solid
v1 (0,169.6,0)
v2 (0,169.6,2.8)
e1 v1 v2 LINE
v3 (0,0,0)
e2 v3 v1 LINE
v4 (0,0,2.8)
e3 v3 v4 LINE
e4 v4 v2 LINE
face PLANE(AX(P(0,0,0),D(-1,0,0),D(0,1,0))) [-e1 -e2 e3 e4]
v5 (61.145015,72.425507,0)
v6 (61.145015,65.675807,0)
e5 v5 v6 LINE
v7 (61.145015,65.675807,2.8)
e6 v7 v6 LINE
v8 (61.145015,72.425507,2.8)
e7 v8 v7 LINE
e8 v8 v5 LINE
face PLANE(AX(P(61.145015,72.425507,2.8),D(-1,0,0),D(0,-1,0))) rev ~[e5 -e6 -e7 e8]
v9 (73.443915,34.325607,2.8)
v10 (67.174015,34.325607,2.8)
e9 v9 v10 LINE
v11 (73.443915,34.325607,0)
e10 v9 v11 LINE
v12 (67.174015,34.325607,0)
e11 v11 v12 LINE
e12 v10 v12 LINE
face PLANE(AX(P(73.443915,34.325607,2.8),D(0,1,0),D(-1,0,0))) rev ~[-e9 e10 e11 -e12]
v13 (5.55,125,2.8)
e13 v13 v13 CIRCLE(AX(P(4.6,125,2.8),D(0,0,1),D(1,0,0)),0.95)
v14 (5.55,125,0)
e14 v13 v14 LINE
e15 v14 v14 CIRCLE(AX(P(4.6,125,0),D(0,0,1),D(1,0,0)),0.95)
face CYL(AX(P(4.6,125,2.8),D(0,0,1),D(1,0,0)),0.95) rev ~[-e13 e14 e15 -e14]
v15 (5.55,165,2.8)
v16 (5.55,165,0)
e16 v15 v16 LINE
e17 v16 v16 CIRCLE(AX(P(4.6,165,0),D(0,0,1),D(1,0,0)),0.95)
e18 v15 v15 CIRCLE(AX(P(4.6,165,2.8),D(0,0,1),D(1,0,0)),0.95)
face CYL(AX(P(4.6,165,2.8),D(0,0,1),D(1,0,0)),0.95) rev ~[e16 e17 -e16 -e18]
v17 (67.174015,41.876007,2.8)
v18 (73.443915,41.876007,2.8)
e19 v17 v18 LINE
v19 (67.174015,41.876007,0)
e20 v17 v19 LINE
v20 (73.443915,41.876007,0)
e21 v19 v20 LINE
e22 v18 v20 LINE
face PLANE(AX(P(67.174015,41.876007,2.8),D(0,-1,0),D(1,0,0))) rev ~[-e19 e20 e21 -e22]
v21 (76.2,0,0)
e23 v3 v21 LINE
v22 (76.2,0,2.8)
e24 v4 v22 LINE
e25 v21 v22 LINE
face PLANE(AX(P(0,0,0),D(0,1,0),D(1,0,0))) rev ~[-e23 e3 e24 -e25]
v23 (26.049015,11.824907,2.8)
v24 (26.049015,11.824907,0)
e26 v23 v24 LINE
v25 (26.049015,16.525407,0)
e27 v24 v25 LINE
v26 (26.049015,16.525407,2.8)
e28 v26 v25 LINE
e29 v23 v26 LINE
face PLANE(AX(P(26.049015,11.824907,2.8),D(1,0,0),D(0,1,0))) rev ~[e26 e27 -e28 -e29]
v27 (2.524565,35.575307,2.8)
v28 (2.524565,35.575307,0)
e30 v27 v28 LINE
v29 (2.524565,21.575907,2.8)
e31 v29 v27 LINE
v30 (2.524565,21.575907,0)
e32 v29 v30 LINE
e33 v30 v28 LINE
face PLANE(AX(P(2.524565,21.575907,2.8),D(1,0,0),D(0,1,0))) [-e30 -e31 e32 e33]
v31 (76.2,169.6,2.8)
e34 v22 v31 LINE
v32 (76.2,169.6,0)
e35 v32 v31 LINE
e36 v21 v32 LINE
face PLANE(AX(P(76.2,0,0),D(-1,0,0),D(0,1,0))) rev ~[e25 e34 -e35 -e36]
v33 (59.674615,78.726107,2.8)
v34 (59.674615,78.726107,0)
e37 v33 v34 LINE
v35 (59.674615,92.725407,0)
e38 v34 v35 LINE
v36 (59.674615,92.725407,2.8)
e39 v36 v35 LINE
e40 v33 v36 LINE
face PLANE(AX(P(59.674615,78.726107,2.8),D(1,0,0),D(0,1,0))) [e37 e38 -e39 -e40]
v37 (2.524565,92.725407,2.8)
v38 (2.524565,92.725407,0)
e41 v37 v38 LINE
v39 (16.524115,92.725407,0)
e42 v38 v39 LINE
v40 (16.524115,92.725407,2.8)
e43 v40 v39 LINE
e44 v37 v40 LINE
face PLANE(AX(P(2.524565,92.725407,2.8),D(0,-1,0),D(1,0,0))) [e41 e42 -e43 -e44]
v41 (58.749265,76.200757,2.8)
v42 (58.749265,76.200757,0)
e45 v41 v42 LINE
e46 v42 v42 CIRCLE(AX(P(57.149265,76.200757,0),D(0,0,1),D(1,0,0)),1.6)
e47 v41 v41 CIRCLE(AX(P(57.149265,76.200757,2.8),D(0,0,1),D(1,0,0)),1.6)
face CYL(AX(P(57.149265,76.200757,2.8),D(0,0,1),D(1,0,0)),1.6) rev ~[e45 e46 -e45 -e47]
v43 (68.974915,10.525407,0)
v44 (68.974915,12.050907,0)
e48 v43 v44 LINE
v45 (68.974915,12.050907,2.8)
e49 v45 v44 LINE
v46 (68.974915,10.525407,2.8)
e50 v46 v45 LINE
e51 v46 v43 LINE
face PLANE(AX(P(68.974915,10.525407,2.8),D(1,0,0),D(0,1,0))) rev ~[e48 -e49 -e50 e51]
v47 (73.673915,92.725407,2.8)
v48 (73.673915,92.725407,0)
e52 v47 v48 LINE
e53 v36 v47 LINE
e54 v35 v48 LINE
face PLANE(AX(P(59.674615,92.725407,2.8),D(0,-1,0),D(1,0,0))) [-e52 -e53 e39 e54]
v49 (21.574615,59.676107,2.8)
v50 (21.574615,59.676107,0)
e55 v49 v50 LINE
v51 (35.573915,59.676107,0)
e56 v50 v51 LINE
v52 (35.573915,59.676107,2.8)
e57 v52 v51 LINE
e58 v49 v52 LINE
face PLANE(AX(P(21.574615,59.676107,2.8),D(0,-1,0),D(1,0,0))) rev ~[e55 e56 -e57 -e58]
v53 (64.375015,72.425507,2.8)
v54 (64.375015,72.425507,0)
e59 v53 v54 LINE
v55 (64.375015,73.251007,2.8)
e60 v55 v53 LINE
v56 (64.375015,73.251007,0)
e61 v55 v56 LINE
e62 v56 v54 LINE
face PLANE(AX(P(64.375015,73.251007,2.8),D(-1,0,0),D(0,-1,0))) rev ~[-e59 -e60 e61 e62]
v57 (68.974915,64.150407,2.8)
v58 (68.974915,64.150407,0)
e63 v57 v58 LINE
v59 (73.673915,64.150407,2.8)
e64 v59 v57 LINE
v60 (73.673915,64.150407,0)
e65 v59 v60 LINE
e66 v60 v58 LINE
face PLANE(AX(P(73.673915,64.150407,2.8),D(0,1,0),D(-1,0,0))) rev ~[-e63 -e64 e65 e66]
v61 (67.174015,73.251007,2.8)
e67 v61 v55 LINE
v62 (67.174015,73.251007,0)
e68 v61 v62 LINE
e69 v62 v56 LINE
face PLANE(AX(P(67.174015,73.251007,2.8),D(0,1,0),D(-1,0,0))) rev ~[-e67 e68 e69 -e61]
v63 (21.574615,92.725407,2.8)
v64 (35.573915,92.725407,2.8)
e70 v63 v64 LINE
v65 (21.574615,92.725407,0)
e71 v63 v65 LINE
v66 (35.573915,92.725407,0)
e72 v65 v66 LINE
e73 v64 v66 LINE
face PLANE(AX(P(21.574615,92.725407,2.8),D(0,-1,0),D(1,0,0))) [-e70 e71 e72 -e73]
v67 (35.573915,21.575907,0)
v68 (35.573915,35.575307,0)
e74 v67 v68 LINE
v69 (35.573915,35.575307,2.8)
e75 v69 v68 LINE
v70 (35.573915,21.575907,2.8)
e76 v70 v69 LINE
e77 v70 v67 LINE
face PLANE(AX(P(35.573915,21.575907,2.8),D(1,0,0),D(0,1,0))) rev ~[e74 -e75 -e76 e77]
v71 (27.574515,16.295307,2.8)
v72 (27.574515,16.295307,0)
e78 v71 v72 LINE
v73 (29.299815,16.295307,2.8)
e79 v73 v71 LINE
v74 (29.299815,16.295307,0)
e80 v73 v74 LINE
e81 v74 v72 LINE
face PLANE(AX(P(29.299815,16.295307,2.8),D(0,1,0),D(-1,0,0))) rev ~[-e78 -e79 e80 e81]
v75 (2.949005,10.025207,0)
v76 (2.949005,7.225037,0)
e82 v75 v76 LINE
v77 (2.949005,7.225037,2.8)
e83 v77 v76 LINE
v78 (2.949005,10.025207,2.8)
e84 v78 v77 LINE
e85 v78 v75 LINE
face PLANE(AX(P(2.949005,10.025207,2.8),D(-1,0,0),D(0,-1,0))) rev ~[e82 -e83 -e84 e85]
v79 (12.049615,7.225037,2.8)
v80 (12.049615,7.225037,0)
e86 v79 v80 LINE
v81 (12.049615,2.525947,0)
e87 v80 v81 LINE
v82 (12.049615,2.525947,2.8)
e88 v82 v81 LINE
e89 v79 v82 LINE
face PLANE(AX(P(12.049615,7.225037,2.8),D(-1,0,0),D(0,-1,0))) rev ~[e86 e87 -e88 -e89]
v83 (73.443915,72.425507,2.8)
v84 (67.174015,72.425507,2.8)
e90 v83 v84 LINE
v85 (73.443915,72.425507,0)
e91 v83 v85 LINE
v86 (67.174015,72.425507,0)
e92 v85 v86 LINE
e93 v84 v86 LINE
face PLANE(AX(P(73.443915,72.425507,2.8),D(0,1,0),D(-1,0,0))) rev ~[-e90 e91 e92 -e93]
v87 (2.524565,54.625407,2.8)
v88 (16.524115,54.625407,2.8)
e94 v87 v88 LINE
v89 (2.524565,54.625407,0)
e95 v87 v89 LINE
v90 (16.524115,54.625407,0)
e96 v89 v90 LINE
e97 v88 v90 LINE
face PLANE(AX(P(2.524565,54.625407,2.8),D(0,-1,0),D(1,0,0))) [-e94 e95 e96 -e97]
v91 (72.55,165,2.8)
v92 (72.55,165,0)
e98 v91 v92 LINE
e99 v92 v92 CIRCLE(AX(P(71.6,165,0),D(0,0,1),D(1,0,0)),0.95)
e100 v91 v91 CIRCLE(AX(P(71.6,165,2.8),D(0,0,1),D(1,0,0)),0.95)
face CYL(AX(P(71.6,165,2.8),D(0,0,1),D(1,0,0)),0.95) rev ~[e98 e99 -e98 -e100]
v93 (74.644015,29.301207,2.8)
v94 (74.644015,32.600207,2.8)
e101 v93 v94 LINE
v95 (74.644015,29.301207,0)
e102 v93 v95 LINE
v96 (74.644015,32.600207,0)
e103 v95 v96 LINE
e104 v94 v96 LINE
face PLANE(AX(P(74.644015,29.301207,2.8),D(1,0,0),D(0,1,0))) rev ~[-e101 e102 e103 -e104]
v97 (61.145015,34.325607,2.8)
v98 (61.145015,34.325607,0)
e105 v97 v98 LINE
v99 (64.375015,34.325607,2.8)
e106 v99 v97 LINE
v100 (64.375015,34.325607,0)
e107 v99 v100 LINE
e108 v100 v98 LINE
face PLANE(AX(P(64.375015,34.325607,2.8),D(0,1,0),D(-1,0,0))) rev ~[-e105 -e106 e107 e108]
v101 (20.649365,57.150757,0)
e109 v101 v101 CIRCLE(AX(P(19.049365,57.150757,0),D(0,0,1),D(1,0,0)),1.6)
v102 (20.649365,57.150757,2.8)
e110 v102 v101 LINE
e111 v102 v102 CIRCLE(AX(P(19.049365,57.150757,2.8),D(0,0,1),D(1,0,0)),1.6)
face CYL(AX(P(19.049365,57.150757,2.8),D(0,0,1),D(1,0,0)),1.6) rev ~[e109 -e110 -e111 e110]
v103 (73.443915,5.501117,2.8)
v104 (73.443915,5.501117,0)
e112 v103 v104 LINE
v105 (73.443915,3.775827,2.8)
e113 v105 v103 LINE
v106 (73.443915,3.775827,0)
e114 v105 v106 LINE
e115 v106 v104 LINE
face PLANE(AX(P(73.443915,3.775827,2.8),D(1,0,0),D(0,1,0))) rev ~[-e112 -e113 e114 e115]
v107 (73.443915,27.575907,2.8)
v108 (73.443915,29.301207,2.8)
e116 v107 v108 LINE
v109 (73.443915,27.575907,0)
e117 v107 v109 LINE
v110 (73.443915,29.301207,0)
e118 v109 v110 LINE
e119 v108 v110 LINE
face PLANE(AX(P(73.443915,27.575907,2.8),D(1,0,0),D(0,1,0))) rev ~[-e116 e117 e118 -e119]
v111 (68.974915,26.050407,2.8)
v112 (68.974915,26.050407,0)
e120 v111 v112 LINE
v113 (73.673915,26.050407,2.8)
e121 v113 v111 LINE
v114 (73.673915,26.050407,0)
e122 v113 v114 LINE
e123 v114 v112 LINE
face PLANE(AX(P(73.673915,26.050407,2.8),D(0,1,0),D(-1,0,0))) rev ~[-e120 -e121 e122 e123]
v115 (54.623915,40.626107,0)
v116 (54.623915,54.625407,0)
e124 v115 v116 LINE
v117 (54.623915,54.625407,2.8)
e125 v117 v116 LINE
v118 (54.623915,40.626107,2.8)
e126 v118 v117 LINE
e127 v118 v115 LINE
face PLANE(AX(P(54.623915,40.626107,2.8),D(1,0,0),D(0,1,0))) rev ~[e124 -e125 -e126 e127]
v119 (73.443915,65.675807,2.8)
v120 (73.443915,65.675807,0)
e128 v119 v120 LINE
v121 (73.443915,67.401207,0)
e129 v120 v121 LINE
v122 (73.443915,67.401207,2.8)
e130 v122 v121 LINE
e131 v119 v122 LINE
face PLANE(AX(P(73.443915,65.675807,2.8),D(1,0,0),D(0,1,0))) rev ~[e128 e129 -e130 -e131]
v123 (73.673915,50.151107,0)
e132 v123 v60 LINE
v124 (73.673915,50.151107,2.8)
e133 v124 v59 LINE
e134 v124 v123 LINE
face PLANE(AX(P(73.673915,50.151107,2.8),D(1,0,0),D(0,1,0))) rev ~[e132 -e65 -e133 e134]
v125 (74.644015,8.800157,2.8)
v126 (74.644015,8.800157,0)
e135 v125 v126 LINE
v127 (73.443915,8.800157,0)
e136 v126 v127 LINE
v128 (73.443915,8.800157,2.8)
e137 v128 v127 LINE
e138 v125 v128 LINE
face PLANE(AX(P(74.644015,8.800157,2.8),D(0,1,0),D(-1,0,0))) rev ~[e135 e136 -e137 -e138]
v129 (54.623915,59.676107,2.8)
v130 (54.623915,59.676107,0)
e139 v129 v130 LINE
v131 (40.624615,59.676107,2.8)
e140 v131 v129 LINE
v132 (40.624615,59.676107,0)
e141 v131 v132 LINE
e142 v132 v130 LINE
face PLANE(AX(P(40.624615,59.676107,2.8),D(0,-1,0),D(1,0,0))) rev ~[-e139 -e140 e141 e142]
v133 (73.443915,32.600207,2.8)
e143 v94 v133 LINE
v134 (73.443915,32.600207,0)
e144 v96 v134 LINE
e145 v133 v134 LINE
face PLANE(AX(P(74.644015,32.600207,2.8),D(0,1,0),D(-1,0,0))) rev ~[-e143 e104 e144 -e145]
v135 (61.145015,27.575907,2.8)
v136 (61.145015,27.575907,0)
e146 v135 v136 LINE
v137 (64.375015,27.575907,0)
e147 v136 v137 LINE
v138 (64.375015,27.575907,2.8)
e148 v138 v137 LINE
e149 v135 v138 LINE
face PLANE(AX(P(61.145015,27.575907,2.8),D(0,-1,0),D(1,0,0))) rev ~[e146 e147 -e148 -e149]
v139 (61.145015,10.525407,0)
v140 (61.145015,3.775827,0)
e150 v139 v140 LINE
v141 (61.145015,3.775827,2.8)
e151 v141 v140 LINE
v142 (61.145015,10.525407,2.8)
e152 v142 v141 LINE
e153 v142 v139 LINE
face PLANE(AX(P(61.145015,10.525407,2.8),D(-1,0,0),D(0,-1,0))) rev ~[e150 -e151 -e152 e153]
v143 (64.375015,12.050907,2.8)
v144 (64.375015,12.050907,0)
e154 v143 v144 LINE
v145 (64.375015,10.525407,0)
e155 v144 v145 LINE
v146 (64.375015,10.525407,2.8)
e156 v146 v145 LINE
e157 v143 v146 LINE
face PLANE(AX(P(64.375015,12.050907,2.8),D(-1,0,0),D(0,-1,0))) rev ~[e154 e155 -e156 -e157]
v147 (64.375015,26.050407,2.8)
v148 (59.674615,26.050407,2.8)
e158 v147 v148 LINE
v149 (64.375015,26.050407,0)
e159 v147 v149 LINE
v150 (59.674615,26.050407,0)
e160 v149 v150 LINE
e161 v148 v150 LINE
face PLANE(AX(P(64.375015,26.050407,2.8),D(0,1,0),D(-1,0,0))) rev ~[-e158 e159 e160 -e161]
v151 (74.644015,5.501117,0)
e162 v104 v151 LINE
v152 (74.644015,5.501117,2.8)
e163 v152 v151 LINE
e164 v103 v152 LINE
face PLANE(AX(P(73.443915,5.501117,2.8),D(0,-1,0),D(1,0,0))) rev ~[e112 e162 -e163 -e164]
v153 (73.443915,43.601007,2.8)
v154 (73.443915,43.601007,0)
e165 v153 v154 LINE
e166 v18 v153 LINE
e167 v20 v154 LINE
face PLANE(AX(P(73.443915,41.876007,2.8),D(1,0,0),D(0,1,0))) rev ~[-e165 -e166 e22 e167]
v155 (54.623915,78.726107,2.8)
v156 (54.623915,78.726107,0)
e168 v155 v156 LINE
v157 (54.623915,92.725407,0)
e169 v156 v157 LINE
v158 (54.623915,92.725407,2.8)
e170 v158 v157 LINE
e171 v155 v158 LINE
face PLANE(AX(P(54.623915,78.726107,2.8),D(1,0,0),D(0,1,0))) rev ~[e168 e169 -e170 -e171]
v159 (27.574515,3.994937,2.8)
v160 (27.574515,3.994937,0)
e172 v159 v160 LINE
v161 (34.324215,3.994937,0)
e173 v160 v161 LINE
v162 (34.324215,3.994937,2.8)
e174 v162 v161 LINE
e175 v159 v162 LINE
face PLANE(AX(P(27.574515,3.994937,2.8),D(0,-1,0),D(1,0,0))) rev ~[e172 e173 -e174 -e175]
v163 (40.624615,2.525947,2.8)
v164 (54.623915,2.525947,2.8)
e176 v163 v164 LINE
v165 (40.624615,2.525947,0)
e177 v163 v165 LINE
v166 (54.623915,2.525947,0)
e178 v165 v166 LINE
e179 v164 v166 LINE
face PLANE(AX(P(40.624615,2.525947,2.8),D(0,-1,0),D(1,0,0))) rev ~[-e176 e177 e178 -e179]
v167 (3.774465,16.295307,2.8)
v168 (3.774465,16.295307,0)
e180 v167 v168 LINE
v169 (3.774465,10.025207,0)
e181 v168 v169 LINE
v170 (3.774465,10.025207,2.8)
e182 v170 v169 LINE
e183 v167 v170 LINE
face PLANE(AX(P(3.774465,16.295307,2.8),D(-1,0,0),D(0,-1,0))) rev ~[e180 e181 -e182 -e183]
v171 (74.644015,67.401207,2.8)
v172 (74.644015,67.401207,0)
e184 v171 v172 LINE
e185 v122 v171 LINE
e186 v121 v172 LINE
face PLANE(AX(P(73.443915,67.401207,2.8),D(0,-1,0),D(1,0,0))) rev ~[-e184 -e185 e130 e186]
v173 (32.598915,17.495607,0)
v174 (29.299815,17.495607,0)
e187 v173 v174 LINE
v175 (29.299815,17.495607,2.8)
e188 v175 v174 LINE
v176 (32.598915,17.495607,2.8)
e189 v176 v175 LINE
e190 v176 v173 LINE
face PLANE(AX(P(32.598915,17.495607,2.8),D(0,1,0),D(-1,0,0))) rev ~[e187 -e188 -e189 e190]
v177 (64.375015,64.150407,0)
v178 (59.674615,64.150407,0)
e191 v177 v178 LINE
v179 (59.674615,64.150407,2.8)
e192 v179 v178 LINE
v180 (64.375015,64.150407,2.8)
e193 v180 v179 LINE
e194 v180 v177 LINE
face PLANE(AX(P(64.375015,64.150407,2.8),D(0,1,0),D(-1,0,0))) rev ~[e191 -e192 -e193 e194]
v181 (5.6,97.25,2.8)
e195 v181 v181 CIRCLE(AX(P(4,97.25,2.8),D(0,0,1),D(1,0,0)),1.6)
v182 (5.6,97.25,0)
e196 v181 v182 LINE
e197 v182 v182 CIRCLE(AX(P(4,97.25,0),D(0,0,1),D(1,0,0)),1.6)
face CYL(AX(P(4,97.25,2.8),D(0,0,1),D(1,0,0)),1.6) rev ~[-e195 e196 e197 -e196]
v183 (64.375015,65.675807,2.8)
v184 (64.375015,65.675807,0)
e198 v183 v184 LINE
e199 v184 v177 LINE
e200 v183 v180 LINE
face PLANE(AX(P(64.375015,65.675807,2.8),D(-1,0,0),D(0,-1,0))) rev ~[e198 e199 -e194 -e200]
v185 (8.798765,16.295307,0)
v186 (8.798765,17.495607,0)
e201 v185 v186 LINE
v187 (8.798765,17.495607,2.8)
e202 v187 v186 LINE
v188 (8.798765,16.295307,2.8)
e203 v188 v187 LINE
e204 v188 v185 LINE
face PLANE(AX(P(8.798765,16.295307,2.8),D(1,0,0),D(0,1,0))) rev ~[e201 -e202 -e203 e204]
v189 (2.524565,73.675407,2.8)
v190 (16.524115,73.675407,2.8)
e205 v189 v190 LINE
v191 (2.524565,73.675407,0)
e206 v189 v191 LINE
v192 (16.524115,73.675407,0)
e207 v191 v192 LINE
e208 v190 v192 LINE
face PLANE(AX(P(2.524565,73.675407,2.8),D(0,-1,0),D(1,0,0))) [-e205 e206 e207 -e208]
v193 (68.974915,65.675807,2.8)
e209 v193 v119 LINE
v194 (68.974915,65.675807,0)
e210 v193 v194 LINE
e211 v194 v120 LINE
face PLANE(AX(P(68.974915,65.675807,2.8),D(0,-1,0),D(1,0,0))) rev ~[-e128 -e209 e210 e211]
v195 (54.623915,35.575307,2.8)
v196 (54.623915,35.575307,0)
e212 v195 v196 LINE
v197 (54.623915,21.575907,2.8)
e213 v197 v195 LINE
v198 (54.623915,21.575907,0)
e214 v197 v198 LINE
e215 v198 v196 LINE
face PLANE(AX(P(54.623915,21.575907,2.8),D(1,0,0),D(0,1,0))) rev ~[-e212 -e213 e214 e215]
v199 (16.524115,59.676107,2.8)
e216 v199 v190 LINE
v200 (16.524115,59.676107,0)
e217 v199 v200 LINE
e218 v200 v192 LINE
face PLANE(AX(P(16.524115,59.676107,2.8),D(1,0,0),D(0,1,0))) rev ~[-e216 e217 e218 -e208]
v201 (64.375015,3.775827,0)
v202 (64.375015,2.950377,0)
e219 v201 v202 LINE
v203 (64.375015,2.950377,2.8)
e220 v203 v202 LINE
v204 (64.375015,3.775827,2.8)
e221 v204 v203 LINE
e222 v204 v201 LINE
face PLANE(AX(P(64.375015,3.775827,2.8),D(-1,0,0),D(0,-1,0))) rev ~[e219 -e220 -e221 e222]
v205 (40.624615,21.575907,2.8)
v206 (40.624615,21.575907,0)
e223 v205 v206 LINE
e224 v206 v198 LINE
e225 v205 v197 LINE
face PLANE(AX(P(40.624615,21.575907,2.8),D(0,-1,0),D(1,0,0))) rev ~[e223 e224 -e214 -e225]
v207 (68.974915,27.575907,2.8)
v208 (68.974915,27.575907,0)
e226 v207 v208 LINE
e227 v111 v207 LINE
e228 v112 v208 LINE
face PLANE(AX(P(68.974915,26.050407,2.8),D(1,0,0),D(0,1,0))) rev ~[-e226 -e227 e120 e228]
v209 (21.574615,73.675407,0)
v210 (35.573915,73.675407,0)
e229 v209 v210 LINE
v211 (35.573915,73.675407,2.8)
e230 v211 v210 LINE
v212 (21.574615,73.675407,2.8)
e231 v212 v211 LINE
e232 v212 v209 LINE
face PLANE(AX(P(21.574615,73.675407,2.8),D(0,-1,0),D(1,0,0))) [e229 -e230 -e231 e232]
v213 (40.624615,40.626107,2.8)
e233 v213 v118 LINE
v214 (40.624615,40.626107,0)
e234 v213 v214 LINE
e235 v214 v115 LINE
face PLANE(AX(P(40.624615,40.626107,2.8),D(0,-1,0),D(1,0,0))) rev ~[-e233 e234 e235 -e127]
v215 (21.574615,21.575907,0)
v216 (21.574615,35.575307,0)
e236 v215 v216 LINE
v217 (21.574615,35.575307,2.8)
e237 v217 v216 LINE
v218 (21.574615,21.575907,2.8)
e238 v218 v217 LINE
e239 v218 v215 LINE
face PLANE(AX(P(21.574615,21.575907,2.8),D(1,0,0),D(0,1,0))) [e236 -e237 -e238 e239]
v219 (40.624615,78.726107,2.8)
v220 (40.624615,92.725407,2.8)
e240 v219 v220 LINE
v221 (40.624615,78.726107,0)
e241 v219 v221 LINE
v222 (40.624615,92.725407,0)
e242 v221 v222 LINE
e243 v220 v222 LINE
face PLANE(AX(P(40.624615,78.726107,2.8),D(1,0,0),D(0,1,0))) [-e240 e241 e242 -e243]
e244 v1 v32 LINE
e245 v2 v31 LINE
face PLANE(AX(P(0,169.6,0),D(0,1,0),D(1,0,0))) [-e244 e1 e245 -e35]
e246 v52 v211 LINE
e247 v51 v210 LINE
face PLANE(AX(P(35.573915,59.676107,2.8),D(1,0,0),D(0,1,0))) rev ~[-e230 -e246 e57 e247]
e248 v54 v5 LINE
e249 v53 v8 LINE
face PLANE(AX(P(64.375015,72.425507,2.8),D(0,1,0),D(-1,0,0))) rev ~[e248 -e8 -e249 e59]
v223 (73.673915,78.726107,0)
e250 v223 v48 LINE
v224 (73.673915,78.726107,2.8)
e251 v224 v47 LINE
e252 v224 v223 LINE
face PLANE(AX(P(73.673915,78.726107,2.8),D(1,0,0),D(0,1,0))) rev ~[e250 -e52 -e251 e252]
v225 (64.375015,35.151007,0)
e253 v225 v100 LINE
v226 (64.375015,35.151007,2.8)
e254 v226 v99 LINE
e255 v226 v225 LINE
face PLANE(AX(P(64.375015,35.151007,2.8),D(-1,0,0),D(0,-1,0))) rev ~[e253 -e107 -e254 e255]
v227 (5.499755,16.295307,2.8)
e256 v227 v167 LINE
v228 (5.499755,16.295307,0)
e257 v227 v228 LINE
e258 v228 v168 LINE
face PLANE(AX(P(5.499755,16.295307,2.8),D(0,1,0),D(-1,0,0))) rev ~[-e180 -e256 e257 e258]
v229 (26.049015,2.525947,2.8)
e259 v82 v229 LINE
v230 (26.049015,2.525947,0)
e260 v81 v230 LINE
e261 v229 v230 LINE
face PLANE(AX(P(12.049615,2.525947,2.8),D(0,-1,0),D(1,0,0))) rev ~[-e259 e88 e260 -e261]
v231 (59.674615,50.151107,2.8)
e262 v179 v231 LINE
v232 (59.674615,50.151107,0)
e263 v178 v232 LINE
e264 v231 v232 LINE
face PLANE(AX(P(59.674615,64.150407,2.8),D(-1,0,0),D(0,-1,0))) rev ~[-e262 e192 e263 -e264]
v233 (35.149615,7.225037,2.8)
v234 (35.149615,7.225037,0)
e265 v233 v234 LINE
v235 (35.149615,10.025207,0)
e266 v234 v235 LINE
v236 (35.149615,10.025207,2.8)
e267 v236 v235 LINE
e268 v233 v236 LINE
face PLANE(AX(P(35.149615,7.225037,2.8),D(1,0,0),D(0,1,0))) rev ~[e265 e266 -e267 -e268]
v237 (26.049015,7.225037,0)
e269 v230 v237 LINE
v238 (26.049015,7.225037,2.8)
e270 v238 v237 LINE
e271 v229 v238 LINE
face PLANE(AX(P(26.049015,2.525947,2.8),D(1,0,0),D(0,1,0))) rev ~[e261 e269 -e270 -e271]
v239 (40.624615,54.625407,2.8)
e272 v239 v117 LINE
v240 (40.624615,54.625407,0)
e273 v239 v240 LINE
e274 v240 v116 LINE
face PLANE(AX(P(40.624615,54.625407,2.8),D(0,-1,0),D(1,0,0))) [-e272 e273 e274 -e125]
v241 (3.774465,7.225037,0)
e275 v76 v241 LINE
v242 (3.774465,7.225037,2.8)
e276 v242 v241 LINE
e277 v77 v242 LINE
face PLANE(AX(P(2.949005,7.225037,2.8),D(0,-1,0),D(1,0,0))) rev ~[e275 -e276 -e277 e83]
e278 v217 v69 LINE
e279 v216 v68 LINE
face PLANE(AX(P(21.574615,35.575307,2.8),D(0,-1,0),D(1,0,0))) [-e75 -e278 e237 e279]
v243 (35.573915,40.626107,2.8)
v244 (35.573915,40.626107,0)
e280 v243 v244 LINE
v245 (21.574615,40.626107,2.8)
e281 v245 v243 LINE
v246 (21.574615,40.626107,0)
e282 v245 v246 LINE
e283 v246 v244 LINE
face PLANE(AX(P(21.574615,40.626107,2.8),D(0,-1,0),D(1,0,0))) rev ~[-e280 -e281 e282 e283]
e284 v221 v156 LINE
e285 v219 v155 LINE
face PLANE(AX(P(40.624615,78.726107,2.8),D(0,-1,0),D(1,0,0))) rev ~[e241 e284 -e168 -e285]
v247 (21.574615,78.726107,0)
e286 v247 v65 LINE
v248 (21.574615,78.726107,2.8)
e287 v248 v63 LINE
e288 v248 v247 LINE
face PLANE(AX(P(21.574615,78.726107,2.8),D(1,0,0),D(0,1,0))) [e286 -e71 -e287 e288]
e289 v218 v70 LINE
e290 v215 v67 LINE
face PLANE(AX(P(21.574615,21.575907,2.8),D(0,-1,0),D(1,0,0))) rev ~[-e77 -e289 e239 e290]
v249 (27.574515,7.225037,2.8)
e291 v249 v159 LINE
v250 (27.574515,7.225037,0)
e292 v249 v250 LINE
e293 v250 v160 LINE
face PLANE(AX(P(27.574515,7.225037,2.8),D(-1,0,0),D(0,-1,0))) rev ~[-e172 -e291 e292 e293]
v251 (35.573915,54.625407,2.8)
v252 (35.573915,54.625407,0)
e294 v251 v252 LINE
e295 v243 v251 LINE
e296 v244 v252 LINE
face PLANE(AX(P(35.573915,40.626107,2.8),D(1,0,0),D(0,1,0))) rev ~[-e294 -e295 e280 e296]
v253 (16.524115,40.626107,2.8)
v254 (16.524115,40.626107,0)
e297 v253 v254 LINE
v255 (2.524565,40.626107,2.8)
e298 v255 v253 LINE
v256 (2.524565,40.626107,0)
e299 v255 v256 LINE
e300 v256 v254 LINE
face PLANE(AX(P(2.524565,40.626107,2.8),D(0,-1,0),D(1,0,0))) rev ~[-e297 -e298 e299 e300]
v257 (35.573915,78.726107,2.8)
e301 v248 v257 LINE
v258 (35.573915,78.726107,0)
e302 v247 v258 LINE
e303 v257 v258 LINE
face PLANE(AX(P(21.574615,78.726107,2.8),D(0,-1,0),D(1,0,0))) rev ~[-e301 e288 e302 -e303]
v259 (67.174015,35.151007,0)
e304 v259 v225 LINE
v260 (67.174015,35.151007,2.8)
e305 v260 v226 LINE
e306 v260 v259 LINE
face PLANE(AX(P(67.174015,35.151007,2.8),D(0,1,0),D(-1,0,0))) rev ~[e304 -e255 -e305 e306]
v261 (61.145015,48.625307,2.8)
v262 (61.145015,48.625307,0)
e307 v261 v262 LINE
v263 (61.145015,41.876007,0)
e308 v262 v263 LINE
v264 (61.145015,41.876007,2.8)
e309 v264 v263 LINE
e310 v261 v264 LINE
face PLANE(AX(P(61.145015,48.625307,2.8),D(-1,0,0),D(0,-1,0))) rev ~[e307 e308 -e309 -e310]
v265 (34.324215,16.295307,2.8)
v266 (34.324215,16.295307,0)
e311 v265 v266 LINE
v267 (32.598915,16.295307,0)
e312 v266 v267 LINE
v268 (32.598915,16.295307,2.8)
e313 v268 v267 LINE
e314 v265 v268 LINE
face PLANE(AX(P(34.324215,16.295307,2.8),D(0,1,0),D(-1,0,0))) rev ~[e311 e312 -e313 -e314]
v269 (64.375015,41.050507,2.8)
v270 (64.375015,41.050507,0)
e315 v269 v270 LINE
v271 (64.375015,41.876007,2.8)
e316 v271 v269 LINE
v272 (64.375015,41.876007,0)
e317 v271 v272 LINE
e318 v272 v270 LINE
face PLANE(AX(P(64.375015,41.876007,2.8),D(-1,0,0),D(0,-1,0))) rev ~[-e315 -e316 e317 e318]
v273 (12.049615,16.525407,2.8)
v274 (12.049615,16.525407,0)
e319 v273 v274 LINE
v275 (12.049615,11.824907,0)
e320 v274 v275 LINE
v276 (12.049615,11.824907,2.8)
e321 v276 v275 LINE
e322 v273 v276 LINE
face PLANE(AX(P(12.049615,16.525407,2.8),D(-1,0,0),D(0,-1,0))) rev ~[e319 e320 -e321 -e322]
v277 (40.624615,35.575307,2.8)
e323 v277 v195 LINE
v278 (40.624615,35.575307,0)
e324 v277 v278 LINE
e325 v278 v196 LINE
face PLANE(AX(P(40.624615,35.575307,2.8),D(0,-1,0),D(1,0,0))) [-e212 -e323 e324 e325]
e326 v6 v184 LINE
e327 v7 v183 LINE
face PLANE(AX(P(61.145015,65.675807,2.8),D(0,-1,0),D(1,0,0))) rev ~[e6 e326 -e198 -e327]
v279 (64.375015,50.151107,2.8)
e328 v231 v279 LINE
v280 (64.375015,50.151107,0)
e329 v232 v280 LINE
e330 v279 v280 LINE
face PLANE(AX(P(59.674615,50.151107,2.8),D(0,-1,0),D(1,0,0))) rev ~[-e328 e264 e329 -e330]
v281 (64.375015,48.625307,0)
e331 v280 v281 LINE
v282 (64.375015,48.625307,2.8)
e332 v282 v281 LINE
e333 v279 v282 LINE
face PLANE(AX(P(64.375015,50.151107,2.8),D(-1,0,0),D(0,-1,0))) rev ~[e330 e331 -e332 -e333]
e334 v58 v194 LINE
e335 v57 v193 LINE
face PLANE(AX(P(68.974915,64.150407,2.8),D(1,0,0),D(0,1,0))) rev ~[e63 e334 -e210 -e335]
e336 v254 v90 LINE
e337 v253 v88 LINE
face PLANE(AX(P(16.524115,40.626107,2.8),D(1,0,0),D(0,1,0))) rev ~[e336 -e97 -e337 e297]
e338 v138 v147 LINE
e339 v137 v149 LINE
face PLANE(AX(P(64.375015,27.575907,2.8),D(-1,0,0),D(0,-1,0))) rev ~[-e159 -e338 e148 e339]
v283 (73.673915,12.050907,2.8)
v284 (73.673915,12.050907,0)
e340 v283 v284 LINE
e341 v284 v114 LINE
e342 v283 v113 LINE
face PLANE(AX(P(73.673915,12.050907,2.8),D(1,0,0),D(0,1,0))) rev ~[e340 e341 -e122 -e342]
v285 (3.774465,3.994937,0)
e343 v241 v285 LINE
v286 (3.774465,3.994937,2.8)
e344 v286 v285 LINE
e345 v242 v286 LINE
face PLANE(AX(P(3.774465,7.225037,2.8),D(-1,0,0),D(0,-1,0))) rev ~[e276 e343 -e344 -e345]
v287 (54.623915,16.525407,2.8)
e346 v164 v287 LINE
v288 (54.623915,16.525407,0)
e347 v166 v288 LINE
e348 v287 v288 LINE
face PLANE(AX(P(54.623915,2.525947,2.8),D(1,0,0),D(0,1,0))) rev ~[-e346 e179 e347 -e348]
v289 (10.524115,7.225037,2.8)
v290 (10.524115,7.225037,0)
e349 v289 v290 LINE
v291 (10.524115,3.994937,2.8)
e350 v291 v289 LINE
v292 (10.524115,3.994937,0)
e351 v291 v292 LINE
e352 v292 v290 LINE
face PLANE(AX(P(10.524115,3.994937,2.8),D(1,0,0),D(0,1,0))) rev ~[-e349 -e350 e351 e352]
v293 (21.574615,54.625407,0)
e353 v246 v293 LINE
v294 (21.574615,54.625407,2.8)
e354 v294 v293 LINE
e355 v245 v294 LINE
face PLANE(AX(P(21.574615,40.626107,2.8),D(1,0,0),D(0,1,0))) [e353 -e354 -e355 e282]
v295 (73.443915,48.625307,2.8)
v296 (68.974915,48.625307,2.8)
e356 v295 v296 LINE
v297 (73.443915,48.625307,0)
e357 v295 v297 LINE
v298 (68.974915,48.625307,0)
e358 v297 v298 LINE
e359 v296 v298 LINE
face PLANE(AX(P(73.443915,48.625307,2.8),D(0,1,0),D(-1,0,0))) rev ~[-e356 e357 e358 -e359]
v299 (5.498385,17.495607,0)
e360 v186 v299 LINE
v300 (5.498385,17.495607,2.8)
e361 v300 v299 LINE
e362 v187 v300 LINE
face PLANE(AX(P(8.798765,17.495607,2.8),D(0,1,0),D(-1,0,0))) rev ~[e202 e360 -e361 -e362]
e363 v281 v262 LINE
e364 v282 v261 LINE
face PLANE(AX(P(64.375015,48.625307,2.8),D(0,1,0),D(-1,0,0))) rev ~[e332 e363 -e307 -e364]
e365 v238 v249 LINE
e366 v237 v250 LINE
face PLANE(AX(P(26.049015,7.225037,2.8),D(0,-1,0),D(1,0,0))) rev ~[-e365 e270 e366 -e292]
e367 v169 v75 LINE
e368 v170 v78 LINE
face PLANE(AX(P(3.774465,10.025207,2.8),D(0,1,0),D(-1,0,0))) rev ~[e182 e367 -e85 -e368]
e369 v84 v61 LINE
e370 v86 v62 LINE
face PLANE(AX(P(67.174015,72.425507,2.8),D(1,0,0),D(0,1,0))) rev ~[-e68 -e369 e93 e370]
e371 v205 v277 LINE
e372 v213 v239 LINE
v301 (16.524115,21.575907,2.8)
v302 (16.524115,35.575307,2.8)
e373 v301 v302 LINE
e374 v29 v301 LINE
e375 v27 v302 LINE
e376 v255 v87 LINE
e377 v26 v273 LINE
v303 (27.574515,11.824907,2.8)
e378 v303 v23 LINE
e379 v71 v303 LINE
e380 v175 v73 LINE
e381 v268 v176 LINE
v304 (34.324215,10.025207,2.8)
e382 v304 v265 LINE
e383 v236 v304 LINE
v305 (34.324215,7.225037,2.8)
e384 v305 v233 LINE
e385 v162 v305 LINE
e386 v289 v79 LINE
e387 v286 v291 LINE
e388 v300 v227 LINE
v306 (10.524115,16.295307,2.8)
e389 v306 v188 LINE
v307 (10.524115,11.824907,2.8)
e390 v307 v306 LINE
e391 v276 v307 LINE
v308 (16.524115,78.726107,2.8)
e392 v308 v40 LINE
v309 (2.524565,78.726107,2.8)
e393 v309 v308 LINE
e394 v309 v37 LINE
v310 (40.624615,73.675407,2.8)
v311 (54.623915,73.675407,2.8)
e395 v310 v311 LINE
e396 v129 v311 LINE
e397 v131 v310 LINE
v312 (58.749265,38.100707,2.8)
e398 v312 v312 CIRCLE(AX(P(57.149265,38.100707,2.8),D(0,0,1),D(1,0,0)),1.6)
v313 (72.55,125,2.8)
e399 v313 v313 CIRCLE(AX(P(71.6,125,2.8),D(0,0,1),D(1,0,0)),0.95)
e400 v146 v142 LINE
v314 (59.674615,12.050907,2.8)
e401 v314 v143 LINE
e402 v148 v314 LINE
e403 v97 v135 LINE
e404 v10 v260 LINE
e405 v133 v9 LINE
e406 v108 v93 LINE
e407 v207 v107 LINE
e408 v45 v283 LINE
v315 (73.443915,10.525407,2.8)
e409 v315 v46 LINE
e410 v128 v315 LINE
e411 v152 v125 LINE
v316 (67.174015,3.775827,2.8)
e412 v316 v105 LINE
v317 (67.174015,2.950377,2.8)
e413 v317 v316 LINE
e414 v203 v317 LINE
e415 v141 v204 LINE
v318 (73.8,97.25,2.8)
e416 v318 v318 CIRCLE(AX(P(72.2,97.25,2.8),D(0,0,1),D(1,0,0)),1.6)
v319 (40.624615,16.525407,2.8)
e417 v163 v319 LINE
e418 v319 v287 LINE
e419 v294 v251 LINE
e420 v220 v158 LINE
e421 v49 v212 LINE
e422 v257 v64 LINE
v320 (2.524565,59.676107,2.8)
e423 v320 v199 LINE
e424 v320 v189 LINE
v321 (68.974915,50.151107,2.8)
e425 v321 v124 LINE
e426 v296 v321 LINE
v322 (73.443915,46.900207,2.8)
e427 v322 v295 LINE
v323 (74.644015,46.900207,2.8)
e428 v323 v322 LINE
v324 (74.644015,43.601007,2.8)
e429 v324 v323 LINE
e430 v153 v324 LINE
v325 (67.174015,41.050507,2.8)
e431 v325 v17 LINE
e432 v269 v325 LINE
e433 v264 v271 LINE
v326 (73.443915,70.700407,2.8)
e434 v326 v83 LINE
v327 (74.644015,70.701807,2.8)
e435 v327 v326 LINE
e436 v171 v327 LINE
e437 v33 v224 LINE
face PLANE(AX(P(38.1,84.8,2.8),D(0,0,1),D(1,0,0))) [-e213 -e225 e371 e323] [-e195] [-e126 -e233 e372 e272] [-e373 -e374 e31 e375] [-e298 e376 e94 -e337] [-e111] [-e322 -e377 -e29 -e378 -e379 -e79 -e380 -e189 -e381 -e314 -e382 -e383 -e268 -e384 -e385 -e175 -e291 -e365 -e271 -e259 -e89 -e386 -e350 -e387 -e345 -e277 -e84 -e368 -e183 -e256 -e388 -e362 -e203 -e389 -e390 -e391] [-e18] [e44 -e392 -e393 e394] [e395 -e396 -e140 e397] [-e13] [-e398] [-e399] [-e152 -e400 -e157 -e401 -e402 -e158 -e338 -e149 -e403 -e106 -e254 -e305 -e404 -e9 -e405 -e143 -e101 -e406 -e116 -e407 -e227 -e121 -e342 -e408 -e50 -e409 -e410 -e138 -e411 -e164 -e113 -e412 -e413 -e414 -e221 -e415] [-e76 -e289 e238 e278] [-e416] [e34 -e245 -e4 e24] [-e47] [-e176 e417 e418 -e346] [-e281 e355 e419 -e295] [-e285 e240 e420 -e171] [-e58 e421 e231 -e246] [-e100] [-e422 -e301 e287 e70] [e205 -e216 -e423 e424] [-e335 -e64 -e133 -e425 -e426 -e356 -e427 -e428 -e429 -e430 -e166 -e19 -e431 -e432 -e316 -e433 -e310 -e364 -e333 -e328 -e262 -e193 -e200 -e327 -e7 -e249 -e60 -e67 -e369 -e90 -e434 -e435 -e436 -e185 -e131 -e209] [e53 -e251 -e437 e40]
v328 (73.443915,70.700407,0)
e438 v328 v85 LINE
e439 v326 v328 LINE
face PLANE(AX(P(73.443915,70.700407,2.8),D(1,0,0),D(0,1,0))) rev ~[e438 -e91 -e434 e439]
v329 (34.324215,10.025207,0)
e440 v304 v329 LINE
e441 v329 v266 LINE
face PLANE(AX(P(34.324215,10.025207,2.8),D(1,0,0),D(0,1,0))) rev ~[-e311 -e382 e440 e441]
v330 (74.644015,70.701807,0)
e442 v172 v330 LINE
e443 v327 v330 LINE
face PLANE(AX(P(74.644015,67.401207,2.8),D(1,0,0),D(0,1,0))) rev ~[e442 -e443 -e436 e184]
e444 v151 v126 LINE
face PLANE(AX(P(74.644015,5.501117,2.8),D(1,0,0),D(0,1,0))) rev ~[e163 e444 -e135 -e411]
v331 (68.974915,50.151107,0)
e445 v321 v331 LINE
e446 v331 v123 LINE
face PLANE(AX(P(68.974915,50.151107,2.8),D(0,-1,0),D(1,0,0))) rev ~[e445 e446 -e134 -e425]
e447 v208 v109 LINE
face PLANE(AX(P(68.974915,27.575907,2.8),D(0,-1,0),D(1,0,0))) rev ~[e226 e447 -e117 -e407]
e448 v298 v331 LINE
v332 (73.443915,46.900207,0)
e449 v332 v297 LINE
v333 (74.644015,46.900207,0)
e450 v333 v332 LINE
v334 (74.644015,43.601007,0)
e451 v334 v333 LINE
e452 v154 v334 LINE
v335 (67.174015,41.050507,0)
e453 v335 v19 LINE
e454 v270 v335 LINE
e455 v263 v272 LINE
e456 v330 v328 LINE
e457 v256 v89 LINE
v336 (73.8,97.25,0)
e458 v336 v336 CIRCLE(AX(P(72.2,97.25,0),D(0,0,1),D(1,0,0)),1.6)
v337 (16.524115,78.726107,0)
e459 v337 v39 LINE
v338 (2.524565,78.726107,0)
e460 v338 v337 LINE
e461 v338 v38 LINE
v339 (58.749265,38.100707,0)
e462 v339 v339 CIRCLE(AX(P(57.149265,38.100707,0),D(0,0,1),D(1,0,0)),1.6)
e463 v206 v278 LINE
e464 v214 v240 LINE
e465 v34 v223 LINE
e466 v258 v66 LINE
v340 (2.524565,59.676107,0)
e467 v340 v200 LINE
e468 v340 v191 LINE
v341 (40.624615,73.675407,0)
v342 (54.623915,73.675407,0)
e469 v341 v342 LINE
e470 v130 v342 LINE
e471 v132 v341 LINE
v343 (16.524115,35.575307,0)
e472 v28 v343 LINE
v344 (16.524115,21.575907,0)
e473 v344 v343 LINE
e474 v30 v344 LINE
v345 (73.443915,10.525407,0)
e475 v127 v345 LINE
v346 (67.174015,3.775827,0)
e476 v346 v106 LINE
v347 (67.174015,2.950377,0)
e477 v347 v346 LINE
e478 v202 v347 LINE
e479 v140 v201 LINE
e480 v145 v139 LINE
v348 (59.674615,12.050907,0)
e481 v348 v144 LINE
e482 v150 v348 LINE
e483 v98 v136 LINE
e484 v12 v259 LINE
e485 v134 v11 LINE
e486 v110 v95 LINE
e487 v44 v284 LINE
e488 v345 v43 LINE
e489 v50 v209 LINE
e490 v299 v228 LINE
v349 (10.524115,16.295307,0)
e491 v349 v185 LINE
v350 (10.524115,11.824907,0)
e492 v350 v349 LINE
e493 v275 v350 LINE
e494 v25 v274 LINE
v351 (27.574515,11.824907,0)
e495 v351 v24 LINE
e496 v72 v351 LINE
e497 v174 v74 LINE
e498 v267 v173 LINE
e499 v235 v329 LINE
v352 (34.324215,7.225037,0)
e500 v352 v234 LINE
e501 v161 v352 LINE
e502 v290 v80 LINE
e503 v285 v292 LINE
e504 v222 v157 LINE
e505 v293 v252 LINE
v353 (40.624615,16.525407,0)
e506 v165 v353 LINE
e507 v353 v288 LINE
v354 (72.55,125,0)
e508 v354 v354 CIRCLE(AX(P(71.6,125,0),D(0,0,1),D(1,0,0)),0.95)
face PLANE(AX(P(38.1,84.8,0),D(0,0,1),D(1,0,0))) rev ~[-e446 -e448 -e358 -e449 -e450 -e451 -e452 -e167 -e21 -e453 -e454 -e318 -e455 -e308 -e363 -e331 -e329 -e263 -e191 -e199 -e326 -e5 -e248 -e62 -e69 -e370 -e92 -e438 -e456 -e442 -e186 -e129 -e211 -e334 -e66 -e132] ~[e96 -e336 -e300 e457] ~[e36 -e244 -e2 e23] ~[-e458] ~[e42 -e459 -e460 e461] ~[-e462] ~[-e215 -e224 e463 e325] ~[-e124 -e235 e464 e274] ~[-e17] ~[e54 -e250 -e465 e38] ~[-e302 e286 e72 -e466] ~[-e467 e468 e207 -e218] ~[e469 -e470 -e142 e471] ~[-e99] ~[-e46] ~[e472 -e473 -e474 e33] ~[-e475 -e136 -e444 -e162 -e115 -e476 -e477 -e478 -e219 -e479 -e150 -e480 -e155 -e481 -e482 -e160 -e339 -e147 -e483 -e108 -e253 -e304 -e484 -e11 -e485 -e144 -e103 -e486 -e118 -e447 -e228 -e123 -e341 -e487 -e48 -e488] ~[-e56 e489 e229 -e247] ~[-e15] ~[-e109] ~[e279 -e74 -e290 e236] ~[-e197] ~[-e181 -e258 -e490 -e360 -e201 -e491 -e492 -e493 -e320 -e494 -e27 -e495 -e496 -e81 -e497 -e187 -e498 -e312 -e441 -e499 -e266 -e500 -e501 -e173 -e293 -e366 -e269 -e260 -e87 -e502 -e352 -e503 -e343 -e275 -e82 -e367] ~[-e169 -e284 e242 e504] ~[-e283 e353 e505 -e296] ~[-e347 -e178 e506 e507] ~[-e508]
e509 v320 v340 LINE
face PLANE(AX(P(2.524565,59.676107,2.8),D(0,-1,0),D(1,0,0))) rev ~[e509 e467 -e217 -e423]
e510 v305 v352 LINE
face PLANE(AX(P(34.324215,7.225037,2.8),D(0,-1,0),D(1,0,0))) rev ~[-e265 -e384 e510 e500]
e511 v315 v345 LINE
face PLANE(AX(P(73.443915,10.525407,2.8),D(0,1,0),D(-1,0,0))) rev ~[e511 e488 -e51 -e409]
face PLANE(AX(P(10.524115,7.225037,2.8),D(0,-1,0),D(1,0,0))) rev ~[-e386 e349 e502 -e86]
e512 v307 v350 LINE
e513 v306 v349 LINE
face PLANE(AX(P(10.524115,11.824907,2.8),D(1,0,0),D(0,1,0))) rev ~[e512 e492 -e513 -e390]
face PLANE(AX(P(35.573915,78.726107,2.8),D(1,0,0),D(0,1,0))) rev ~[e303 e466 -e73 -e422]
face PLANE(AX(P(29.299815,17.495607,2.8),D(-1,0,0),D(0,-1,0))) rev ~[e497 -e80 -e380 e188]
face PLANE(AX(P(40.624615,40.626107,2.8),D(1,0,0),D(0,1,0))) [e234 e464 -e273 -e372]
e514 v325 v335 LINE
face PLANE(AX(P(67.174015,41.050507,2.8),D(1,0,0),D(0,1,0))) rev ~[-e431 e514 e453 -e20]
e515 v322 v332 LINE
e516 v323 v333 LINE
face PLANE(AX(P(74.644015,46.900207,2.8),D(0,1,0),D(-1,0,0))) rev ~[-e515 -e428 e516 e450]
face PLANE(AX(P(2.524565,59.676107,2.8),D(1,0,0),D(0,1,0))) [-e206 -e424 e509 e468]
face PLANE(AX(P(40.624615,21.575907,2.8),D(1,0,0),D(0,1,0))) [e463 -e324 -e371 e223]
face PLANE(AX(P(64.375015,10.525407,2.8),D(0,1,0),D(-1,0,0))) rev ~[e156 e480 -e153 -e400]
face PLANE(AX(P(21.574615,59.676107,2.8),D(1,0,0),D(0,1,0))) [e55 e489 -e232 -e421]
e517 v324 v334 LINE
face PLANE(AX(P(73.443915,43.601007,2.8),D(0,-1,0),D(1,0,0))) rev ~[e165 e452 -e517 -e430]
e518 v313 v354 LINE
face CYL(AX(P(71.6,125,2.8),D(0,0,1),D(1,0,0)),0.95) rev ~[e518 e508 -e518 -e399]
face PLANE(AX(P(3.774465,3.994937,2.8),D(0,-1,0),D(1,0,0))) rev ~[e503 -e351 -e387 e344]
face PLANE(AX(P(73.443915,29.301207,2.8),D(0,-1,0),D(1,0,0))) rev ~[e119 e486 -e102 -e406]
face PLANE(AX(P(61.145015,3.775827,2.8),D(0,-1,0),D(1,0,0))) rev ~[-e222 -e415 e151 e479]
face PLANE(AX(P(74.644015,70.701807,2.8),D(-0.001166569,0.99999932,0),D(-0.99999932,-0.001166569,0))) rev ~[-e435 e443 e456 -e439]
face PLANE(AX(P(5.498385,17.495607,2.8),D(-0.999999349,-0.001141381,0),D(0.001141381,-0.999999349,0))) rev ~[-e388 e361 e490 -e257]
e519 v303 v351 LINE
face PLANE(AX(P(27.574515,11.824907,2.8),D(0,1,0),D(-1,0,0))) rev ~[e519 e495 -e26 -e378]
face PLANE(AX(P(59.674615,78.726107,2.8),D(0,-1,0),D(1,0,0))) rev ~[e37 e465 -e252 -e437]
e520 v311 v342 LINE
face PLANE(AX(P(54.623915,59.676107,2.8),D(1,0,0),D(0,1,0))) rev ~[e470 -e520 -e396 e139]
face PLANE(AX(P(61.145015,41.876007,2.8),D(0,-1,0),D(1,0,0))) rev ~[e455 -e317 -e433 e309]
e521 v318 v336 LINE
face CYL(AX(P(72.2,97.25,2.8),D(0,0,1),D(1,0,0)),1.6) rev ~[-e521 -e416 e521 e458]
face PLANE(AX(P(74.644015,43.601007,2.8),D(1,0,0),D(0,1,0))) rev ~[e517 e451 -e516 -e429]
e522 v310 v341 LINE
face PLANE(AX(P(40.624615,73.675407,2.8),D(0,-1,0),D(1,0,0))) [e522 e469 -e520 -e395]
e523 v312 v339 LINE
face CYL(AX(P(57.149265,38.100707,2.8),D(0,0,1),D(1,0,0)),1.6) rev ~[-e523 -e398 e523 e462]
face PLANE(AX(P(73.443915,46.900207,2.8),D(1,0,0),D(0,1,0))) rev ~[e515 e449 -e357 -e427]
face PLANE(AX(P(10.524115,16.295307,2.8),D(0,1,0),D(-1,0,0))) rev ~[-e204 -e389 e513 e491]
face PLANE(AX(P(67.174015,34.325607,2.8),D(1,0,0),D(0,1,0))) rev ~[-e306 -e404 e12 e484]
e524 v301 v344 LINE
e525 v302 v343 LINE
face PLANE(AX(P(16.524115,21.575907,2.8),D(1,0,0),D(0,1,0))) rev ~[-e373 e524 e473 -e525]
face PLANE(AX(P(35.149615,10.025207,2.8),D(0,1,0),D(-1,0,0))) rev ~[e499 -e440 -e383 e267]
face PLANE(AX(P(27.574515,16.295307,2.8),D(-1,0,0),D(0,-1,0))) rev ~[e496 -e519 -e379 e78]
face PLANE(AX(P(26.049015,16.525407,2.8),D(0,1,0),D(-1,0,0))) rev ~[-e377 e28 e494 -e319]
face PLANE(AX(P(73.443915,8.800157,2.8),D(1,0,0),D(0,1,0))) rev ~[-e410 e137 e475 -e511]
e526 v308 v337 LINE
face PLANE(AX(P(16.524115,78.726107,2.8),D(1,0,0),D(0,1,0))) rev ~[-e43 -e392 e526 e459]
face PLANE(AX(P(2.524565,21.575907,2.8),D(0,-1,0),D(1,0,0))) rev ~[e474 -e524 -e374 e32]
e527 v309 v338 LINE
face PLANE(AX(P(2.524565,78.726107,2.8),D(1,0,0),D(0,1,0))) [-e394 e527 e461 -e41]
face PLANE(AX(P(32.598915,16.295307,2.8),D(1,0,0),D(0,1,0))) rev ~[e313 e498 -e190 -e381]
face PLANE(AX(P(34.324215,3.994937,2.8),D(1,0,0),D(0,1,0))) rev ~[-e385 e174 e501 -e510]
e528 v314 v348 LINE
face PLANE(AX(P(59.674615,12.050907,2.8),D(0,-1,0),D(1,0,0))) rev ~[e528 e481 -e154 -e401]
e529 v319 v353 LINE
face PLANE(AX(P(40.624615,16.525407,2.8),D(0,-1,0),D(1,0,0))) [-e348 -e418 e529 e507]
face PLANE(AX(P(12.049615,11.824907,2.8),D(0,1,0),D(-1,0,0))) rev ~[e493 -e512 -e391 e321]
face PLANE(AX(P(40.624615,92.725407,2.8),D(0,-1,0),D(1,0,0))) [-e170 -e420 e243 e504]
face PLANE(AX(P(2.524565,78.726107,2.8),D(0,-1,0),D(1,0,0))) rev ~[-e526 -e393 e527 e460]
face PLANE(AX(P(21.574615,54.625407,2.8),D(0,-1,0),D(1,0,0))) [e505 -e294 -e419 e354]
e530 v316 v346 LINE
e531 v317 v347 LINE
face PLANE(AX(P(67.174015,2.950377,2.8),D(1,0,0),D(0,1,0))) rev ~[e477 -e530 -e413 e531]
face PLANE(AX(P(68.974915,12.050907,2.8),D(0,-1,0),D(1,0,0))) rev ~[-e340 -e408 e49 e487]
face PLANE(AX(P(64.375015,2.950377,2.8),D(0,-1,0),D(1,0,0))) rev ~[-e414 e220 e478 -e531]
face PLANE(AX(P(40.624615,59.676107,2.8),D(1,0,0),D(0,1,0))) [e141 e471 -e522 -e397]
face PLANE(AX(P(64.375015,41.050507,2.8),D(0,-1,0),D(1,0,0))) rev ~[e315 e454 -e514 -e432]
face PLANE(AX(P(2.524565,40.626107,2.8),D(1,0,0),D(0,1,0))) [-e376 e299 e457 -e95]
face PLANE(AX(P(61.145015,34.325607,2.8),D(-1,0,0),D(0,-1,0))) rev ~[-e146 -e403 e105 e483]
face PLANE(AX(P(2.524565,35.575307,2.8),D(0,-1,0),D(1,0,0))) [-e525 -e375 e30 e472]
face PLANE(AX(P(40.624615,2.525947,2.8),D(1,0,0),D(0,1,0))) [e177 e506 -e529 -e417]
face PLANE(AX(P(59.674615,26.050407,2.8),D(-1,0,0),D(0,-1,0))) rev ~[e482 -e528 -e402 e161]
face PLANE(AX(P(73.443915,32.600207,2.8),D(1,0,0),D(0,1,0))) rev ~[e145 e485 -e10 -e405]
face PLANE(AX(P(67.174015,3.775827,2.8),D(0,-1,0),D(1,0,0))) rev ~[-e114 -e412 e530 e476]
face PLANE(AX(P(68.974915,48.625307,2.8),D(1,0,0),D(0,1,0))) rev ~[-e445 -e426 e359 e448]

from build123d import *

# Parameters (mm, degrees)
SKETCH_W        = 76.2
SKETCH_H        = 169.6
PAD_DEPTH       = 2.8
SKETCH001_W     = 13.9993
SKETCH001_H     = 13.9993
SKETCH001_H_2   = 13.99946
SKETCH001_W_2   = 13.99955
SKETCH001_H_3   = 13.9994
POCKET_DEPTH    = 5
SKETCH002_R     = 1.6
POCKET001_DEPTH = 2.801
SKETCH011_R     = 0.95
POCKET002_DEPTH = 2.801


with BuildPart() as part:
    # Sketch → Pad (new body)
    with BuildSketch(Plane.XY):
        with Locations((38.1, 84.8)):
            Rectangle(SKETCH_W, SKETCH_H)
    extrude(amount=PAD_DEPTH)

    # Sketch001 (on Face6 of Pad) → Pocket (cut)
    with BuildSketch(Plane.XY.offset(2.8)):
        with Locations((66.674265, 85.725757)):
            Rectangle(SKETCH001_W, SKETCH001_H)
        with Locations((47.624265, 85.725757)):
            Rectangle(SKETCH001_W, SKETCH001_H)
        Polygon((5.498385, 17.495607), (5.499755, 16.295307), (3.774465, 16.295307), (3.774465, 10.025207), (2.949005, 10.025207), (2.949005, 7.225037), (3.774465, 7.225037), (3.774465, 3.994937), (10.524115, 3.994937), (10.524115, 7.225037), (12.049615, 7.225037), (12.049615, 2.525947), (26.049015, 2.525947), (26.049015, 7.225037), (27.574515, 7.225037), (27.574515, 3.994937), (34.324215, 3.994937), (34.324215, 7.225037), (35.149615, 7.225037), (35.149615, 10.025207), (34.324215, 10.025207), (34.324215, 16.295307), (32.598915, 16.295307), (32.598915, 17.495607), (29.299815, 17.495607), (29.299815, 16.295307), (27.574515, 16.295307), (27.574515, 11.824907), (26.049015, 11.824907), (26.049015, 16.525407), (12.049615, 16.525407), (12.049615, 11.824907), (10.524115, 11.824907), (10.524115, 16.295307), (8.798765, 16.295307), (8.798765, 17.495607), align=None)
        with Locations((47.624265, 9.525677)):
            Rectangle(SKETCH001_W, SKETCH001_H_2)
        Polygon((64.375015, 35.151007), (64.375015, 34.325607), (61.145015, 34.325607), (61.145015, 27.575907), (64.375015, 27.575907), (64.375015, 26.050407), (59.674615, 26.050407), (59.674615, 12.050907), (64.375015, 12.050907), (64.375015, 10.525407), (61.145015, 10.525407), (61.145015, 3.775827), (64.375015, 3.775827), (64.375015, 2.950377), (67.174015, 2.950377), (67.174015, 3.775827), (73.443915, 3.775827), (73.443915, 5.501117), (74.644015, 5.501117), (74.644015, 8.800157), (73.443915, 8.800157), (73.443915, 10.525407), (68.974915, 10.525407), (68.974915, 12.050907), (73.673915, 12.050907), (73.673915, 26.050407), (68.974915, 26.050407), (68.974915, 27.575907), (73.443915, 27.575907), (73.443915, 29.301207), (74.644015, 29.301207), (74.644015, 32.600207), (73.443915, 32.600207), (73.443915, 34.325607), (67.174015, 34.325607), (67.174015, 35.151007), align=None)
        with Locations((9.52434, 28.575607)):
            Rectangle(SKETCH001_W_2, SKETCH001_H_3)
        with Locations((28.574265, 28.575607)):
            Rectangle(SKETCH001_W, SKETCH001_H_3)
        with Locations((47.624265, 28.575607)):
            Rectangle(SKETCH001_W, SKETCH001_H_3)
        with Locations((9.52434, 47.625757)):
            Rectangle(SKETCH001_W_2, SKETCH001_H)
        with Locations((28.574265, 47.625757)):
            Rectangle(SKETCH001_W, SKETCH001_H)
        with Locations((47.624265, 47.625757)):
            Rectangle(SKETCH001_W, SKETCH001_H)
        Polygon((64.375015, 73.251007), (64.375015, 72.425507), (61.145015, 72.425507), (61.145015, 65.675807), (64.375015, 65.675807), (64.375015, 64.150407), (59.674615, 64.150407), (59.674615, 50.151107), (64.375015, 50.151107), (64.375015, 48.625307), (61.145015, 48.625307), (61.145015, 41.876007), (64.375015, 41.876007), (64.375015, 41.050507), (67.174015, 41.050507), (67.174015, 41.876007), (73.443915, 41.876007), (73.443915, 43.601007), (74.644015, 43.601007), (74.644015, 46.900207), (73.443915, 46.900207), (73.443915, 48.625307), (68.974915, 48.625307), (68.974915, 50.151107), (73.673915, 50.151107), (73.673915, 64.150407), (68.974915, 64.150407), (68.974915, 65.675807), (73.443915, 65.675807), (73.443915, 67.401207), (74.644015, 67.401207), (74.644015, 70.701807), (73.443915, 70.700407), (73.443915, 72.425507), (67.174015, 72.425507), (67.174015, 73.251007), align=None)
        with Locations((9.52434, 66.675757)):
            Rectangle(SKETCH001_W_2, SKETCH001_H)
        with Locations((28.574265, 66.675757)):
            Rectangle(SKETCH001_W, SKETCH001_H)
        with Locations((47.624265, 66.675757)):
            Rectangle(SKETCH001_W, SKETCH001_H)
        with Locations((9.52434, 85.725757)):
            Rectangle(SKETCH001_W_2, SKETCH001_H)
        with Locations((28.574265, 85.725757)):
            Rectangle(SKETCH001_W, SKETCH001_H)
    extrude(amount=-POCKET_DEPTH, mode=Mode.SUBTRACT)

    # Sketch002 (on Face5 of Pocket) → Pocket001 (cut, through all)
    with BuildSketch(Plane.XY.offset(2.8)):
        with Locations((19.049365, 57.150757)):
            Circle(SKETCH002_R)
        with Locations((57.149265, 76.200757)):
            Circle(SKETCH002_R)
        with Locations((57.149265, 38.100707)):
            Circle(SKETCH002_R)
        with Locations((4, 97.25)):
            Circle(SKETCH002_R)
        with Locations((72.2, 97.25)):
            Circle(SKETCH002_R)
    extrude(amount=-POCKET001_DEPTH, mode=Mode.SUBTRACT)

    # Sketch011 (on Face5 of Pocket001) → Pocket002 (cut, through all)
    with BuildSketch(Plane.XY.offset(2.8)):
        with Locations((4.6, 125)):
            Circle(SKETCH011_R)
        with Locations((71.6, 125)):
            Circle(SKETCH011_R)
        with Locations((4.6, 165)):
            Circle(SKETCH011_R)
        with Locations((71.6, 165)):
            Circle(SKETCH011_R)
    extrude(amount=-POCKET002_DEPTH, mode=Mode.SUBTRACT)


solid = part.part
